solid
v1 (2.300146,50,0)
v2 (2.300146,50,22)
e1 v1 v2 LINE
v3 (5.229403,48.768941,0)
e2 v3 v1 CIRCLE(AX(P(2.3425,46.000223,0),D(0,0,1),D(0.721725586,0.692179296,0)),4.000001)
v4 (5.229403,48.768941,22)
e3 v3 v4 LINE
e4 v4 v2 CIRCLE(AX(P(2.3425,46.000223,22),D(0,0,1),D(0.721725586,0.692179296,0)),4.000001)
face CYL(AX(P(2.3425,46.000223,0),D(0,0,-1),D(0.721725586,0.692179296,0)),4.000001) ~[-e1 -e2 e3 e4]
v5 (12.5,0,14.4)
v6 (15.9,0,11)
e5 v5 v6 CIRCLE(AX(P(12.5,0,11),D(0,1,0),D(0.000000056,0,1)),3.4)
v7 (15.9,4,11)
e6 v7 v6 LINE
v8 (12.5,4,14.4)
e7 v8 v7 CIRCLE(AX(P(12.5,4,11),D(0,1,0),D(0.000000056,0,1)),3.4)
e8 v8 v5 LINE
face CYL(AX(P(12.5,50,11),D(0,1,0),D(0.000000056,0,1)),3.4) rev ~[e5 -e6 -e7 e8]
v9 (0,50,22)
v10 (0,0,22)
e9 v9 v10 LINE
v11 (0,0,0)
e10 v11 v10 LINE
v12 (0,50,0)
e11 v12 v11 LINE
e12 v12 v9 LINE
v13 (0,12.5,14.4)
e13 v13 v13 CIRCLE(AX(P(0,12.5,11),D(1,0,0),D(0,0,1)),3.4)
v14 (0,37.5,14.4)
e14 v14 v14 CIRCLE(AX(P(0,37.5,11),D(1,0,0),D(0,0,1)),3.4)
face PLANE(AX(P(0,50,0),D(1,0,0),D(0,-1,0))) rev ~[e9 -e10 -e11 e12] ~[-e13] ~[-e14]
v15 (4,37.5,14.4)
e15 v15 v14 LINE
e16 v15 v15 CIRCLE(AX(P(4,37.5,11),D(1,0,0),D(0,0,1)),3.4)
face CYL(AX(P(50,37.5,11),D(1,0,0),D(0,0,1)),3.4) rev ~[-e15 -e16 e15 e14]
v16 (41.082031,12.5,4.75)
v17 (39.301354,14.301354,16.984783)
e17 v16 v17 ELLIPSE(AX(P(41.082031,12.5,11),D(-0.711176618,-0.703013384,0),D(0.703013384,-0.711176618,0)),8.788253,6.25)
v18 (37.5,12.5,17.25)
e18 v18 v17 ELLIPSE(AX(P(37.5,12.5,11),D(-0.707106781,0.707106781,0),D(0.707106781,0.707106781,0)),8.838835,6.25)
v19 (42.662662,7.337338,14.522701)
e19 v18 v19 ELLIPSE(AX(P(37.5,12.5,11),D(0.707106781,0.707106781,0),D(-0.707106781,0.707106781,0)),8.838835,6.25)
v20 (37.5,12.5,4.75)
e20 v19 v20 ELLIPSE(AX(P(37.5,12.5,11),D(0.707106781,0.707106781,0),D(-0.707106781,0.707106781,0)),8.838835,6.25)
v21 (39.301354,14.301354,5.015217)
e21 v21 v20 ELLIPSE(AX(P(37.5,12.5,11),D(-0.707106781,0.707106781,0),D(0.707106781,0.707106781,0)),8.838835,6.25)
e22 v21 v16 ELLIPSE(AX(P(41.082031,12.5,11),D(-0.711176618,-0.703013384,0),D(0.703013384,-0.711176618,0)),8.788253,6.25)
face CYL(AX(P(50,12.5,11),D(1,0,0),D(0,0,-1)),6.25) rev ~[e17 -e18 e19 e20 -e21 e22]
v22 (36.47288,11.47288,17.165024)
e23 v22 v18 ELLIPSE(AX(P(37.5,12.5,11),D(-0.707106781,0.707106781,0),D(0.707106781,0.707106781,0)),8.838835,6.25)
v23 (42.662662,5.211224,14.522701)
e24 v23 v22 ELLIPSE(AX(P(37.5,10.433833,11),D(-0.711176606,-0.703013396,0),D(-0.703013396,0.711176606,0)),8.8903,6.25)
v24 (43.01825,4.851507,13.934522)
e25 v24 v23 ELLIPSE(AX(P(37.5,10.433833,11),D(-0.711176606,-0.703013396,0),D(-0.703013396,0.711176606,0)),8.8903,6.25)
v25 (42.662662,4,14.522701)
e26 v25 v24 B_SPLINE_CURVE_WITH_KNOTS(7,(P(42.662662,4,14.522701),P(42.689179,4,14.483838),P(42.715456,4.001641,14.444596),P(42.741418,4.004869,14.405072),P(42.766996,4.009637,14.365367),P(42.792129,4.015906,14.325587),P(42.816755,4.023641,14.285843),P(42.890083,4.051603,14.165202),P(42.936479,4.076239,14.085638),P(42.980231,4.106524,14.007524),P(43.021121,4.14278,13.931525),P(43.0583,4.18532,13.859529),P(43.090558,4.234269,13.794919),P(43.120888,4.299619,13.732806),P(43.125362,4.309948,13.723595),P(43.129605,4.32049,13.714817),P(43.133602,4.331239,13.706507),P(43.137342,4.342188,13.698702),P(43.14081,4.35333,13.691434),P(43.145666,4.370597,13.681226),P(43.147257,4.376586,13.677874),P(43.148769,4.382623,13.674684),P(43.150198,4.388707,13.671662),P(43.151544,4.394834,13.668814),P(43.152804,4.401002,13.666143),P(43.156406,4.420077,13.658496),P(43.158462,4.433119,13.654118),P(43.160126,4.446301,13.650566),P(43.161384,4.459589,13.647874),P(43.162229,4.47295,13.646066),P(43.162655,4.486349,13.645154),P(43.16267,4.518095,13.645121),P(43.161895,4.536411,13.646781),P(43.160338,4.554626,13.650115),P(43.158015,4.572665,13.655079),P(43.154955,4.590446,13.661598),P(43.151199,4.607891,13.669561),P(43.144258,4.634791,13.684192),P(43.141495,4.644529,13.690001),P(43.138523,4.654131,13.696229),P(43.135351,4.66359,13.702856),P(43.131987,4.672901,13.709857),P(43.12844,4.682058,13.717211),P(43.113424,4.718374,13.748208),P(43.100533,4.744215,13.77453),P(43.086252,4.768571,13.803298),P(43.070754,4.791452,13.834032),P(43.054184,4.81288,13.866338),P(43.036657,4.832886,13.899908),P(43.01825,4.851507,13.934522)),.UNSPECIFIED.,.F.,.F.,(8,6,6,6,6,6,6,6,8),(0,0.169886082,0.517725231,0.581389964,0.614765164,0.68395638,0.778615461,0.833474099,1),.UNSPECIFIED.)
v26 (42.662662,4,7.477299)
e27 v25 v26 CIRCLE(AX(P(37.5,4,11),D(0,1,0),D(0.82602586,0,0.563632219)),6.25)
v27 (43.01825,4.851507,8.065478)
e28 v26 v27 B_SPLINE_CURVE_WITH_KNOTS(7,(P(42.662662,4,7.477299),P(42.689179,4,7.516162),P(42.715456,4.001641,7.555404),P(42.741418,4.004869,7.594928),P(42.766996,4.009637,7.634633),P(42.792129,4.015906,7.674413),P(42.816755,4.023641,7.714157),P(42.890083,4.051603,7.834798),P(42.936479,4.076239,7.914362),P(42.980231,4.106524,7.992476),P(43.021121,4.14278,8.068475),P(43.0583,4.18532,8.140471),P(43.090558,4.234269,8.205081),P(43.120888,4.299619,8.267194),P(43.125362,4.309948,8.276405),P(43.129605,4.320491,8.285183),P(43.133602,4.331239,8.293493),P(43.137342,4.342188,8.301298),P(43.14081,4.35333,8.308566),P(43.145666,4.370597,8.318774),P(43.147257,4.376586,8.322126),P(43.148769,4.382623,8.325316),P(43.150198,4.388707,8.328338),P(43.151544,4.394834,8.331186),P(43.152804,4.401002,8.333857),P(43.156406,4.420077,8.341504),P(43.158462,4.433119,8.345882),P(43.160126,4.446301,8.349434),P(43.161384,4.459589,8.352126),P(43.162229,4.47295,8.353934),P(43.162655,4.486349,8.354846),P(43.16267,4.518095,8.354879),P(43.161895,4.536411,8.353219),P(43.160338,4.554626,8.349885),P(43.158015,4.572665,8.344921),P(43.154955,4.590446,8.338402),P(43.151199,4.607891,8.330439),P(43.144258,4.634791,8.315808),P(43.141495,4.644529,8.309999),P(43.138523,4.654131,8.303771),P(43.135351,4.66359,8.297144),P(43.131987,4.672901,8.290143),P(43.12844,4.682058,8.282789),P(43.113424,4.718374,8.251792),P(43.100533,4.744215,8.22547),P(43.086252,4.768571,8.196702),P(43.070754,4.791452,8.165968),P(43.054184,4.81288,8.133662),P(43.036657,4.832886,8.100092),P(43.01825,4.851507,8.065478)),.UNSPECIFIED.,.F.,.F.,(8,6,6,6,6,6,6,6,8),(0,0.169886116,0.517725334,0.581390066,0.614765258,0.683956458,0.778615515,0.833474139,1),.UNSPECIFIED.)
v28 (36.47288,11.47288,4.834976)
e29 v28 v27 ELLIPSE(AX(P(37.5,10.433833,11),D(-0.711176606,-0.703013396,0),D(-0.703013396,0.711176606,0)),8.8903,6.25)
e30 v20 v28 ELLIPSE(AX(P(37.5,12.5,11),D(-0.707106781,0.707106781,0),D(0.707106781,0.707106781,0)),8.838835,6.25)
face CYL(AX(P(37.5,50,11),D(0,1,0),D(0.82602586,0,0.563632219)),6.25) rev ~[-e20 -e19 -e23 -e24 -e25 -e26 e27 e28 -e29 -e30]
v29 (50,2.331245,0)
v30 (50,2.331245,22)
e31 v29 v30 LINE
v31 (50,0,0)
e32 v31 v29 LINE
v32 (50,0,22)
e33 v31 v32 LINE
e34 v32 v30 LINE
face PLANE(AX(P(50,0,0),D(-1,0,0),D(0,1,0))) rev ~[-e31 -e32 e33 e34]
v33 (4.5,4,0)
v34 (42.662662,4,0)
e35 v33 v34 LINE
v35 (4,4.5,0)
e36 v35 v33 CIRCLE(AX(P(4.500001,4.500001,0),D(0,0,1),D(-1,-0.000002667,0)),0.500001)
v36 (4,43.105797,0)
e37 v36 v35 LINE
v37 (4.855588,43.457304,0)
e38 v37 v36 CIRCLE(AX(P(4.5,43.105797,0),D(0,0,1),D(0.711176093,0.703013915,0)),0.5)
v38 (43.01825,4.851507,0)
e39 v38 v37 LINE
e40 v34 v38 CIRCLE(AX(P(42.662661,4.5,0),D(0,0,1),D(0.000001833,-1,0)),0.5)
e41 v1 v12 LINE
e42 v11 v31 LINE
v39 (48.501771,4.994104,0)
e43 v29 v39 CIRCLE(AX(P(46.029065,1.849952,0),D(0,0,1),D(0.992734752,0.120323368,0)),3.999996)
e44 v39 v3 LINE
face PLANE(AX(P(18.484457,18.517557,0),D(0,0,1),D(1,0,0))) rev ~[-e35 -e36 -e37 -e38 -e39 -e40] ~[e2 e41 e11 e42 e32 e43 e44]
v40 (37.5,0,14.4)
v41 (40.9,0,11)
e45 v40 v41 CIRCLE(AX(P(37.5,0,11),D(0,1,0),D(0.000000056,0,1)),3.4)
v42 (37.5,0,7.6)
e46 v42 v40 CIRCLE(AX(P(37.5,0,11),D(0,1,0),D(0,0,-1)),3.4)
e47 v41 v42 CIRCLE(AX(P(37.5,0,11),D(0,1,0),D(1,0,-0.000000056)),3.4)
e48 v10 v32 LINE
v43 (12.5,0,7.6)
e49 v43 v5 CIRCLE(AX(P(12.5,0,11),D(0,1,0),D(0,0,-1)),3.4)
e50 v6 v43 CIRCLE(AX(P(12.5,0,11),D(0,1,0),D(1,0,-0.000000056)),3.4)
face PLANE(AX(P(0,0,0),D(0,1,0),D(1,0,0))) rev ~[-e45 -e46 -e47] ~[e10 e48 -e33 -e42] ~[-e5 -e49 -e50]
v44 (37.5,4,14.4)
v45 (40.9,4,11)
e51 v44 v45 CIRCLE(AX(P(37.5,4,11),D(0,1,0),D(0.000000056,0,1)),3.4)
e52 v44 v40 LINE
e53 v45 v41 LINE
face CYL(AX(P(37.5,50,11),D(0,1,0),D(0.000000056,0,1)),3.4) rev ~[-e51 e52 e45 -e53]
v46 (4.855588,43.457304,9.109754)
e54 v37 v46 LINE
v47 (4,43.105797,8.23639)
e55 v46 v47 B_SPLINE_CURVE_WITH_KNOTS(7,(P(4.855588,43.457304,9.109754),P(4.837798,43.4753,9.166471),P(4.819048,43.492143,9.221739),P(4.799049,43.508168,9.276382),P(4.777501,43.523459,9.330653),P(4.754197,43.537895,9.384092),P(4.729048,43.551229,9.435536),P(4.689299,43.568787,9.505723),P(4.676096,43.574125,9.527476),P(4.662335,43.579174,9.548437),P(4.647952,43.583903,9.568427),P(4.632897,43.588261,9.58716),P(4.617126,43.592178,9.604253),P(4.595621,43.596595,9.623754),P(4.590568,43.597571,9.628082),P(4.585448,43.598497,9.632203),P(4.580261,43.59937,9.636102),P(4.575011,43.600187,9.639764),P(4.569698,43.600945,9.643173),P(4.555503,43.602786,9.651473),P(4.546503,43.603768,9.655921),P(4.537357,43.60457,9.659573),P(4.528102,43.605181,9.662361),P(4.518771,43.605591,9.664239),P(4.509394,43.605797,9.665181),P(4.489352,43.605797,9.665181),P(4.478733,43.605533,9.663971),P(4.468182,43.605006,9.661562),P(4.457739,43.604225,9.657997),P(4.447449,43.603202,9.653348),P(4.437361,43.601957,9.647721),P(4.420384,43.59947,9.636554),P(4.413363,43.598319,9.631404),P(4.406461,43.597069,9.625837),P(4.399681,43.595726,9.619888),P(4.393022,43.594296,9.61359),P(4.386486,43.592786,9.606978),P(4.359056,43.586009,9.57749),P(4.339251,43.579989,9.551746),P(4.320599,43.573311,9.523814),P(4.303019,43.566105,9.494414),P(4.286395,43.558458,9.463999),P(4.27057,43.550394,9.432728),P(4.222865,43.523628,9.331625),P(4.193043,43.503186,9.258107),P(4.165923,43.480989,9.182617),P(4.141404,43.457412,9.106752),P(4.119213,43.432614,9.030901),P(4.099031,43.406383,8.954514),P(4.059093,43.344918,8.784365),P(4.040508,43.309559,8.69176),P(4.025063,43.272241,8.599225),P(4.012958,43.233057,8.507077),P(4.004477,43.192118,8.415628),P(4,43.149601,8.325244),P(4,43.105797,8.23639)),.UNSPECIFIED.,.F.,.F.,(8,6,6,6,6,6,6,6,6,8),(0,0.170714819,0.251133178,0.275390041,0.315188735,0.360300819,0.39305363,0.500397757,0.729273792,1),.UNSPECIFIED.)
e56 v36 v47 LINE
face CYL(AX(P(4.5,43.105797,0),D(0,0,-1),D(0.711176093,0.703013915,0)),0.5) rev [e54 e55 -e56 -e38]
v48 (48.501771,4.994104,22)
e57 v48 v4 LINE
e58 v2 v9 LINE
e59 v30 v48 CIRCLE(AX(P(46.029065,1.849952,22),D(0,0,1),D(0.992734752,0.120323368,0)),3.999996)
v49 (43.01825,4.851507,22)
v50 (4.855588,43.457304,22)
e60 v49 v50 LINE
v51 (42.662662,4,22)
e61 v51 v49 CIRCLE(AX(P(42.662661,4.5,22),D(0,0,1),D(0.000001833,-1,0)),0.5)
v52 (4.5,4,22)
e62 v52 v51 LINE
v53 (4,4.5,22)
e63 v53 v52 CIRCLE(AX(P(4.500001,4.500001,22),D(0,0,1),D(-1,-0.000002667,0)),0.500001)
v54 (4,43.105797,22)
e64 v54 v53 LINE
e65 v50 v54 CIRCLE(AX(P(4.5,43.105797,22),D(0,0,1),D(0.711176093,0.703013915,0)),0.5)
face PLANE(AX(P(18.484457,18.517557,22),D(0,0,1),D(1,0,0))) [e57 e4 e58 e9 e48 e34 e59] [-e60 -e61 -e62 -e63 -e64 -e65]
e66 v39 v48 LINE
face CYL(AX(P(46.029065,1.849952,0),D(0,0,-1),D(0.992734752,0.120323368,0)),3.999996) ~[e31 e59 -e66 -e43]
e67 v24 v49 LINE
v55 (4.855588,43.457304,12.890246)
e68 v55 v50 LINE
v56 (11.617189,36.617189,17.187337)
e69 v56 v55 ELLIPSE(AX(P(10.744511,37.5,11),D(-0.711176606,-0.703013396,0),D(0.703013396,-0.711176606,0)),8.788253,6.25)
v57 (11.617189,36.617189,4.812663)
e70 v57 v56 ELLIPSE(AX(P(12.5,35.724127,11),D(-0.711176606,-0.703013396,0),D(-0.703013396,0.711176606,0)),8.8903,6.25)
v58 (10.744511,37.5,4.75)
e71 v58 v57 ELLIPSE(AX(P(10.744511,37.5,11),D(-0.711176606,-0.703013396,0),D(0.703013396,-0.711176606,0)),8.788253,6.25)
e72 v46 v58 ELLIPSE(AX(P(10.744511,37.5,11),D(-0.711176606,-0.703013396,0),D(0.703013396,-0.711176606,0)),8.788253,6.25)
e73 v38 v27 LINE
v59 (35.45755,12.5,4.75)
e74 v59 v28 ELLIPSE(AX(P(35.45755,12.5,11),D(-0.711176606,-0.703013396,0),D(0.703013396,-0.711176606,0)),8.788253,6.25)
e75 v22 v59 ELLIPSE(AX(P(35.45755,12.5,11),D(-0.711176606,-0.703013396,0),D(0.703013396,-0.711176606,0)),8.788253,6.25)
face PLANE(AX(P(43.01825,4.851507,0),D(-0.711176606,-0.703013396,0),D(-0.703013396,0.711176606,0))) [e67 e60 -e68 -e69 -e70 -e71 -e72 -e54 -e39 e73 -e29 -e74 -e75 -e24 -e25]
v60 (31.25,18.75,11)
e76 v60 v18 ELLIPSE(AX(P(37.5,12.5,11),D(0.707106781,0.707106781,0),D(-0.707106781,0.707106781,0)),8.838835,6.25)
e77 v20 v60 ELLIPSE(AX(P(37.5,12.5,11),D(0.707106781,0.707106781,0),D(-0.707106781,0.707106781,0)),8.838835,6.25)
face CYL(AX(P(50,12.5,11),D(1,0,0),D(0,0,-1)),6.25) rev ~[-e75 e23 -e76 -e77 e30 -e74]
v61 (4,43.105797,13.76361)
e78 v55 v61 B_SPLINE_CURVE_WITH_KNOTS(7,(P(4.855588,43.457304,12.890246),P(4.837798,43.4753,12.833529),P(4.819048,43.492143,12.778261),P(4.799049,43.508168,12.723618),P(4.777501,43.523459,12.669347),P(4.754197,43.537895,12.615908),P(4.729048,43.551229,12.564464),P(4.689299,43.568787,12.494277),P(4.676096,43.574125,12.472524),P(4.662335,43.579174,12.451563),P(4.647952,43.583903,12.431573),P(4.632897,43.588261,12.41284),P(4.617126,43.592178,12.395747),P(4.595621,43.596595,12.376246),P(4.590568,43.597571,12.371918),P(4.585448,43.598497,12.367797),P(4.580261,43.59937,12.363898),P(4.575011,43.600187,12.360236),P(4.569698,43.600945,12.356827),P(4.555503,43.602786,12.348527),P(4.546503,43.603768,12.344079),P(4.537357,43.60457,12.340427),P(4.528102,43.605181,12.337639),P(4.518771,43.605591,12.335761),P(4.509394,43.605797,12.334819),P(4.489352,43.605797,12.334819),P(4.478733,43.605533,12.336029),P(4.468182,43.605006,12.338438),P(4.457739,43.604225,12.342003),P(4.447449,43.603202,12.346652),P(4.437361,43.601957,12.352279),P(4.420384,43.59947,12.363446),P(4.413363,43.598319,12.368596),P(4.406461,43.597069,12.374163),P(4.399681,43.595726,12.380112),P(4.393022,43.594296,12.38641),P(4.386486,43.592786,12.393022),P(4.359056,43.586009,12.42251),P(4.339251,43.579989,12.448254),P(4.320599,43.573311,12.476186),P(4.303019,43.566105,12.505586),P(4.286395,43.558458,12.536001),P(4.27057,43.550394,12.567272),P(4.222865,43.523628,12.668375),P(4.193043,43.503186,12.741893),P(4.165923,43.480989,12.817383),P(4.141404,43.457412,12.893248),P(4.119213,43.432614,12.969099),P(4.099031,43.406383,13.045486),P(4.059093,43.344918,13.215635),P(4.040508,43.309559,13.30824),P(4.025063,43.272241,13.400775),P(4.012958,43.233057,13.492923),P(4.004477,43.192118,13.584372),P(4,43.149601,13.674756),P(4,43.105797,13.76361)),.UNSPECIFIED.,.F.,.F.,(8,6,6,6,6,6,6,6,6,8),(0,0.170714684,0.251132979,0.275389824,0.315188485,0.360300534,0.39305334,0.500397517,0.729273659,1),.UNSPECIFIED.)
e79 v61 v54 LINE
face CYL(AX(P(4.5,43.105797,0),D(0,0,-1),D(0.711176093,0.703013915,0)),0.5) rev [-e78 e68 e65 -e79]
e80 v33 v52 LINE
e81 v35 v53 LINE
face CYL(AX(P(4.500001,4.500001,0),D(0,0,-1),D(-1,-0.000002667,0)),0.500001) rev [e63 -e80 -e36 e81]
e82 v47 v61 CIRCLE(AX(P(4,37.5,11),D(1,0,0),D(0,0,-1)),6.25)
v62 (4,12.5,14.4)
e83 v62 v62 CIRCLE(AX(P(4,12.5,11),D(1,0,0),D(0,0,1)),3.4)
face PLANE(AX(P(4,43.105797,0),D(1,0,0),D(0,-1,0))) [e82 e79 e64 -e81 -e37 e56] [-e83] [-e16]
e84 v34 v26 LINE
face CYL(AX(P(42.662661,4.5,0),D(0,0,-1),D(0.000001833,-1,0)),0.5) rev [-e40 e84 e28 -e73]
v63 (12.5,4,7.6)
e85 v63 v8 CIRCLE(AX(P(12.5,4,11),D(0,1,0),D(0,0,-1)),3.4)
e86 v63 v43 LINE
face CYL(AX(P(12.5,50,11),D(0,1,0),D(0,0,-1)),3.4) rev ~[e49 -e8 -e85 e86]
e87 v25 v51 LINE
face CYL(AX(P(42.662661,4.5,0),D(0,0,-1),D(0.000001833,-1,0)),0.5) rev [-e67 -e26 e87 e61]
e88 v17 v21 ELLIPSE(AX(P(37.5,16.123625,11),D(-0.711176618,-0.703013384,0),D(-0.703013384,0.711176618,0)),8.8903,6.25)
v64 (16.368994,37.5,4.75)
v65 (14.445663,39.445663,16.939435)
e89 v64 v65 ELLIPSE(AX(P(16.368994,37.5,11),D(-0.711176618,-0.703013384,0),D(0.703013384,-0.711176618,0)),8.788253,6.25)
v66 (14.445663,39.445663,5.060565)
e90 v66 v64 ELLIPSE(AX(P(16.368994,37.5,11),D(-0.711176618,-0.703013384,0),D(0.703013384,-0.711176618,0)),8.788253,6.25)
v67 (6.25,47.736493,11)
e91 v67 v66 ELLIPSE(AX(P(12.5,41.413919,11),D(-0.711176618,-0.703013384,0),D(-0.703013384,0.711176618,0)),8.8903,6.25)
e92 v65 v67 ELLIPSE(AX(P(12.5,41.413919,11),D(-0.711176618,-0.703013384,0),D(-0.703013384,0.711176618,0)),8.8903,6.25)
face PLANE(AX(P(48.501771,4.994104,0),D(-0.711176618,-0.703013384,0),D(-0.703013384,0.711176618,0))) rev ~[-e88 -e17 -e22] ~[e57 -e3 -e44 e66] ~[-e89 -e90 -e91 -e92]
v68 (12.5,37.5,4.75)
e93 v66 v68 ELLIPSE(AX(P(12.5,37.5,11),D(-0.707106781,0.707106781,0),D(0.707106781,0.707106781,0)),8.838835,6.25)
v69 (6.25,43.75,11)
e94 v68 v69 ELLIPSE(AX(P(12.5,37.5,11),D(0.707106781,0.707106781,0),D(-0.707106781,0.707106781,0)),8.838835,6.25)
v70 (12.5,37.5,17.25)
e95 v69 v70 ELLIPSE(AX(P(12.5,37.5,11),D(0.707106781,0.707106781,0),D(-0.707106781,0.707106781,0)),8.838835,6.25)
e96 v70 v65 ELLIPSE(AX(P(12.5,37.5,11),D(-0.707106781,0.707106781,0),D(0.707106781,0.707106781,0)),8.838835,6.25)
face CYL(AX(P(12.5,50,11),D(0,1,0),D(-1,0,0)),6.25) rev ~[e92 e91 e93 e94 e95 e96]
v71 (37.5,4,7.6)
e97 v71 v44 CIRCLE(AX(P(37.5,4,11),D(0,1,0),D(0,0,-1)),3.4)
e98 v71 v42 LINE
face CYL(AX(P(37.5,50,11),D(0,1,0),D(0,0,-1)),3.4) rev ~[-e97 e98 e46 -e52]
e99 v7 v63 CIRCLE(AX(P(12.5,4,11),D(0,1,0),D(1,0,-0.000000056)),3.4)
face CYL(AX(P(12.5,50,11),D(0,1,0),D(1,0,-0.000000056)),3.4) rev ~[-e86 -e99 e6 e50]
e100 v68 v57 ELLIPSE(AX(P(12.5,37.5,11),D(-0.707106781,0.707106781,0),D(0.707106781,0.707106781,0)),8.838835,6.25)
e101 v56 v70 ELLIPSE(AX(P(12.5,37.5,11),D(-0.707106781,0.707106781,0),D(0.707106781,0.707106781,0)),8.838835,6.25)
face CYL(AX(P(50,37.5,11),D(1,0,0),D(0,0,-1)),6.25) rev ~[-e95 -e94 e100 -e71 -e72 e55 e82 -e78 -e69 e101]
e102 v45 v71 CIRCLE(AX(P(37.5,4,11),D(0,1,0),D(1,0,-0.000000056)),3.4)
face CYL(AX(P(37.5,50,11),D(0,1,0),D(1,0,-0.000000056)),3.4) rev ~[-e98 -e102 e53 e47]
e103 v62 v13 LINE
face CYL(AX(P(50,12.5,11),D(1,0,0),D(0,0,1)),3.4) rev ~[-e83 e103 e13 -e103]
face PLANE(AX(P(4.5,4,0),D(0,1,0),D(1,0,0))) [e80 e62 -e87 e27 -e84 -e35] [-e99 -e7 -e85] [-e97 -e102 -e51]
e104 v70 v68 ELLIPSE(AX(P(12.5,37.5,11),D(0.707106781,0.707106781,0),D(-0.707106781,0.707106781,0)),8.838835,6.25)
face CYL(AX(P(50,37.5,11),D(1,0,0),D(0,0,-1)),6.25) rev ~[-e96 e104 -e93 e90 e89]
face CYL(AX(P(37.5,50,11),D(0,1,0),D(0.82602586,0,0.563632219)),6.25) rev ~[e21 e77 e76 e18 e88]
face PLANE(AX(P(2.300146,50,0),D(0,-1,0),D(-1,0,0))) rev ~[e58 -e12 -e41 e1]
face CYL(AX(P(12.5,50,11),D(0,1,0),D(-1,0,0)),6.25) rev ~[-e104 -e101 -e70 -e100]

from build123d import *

# Parameters (mm, degrees)
EXTRUDE1_DEPTH     = 22
CUT_EXTRUDE1_DEPTH = 75.054034
CUT_EXTRUDE2_REACH = 76.054
SKETCH5_R          = 6.25
CUT_EXTRUDE3_DEPTH = 75.054186
CUT_EXTRUDE4_REACH = 76.054
SKETCH7_R          = 6.25


with BuildPart() as part:
    # Sketch1 → Extrude1 (new body)
    with BuildSketch(Plane.XY):
        with BuildLine():
            Line((0, 0), (50, 0))
            Line((50, 0), (50, 2.331245))
            ThreePointArc((50, 2.331245), (49.515156, 3.811364), (48.501771, 4.994104))
            Line((48.501771, 4.994104), (5.229403, 48.768941))
            ThreePointArc((5.229403, 48.768941), (3.892255, 49.687806), (2.300146, 50))
            Line((2.300146, 50), (0, 50))
            Line((0, 50), (0, 0))
        make_face()
        with BuildLine():
            Line((4, 43.105797), (4, 4.5))
            ThreePointArc((4, 4.5), (4.146447, 4.146447), (4.5, 4))
            Line((4.5, 4), (42.662662, 4))
            ThreePointArc((42.662662, 4), (43.124047, 4.307326), (43.01825, 4.851507))
            Line((43.01825, 4.851507), (4.855588, 43.457304))
            ThreePointArc((4.855588, 43.457304), (4.309992, 43.568287), (4, 43.105797))
        make_face(mode=Mode.SUBTRACT)
    extrude(amount=EXTRUDE1_DEPTH)

    # Sketch4 → Cut-Extrude1 (cut, through all)
    with BuildSketch(Plane(origin=(0, 50, 0), x_dir=(1, 0, 0), z_dir=(0, 1, 0))):
        with BuildLine():
            ThreePointArc((12.5, -7.6), (9.1, -11), (12.5, -14.4))
            Line((12.5, -14.4), (12.5, -7.6))
        make_face()
        with BuildLine():
            Line((12.5, -7.6), (12.5, -14.4))
            ThreePointArc((12.5, -14.4), (14.904163, -13.404163), (15.9, -11))
            ThreePointArc((15.9, -11), (14.904163, -8.595837), (12.5, -7.6))
        make_face()
        with BuildLine():
            ThreePointArc((37.5, -7.6), (34.1, -11), (37.5, -14.4))
            Line((37.5, -14.4), (37.5, -7.6))
        make_face()
        with BuildLine():
            Line((37.5, -7.6), (37.5, -14.4))
            ThreePointArc((37.5, -14.4), (39.904163, -13.404163), (40.9, -11))
            ThreePointArc((40.9, -11), (39.904163, -8.595837), (37.5, -7.6))
        make_face()
    extrude(amount=-CUT_EXTRUDE1_DEPTH, mode=Mode.SUBTRACT)

    # Cut-Extrude2: up to this face of the body (flat: up to its plane)
    cut_extrude2_end = Plane(part.part.faces().sort_by_distance((23.446976, 4, 11))[0])
    # Sketch5 → Cut-Extrude2 (cut, up to the picked face)
    with BuildSketch(Plane(origin=(0, 50, 0), x_dir=(1, 0, 0), z_dir=(0, 1, 0)), mode=Mode.PRIVATE) as cut_extrude2_sk1:
        with Locations(Location((12.5, -11, 0), (0, 0, 180))):
            Circle(SKETCH5_R)
    cut_extrude2_tool1 = split(extrude(cut_extrude2_sk1.sketch, amount=-CUT_EXTRUDE2_REACH, mode=Mode.PRIVATE), bisect_by=cut_extrude2_end, keep=Keep.BOTH, mode=Mode.PRIVATE)
    # Sketch5 → Cut-Extrude2 (cut, up to the picked face)
    with BuildSketch(Plane(origin=(0, 50, 0), x_dir=(1, 0, 0), z_dir=(0, 1, 0)), mode=Mode.PRIVATE) as cut_extrude2_sk2:
        with Locations(Location((37.5, -11, 0), (0, 0, 325.692636))):
            Circle(SKETCH5_R)
    cut_extrude2_tool2 = split(extrude(cut_extrude2_sk2.sketch, amount=-CUT_EXTRUDE2_REACH, mode=Mode.PRIVATE), bisect_by=cut_extrude2_end, keep=Keep.BOTH, mode=Mode.PRIVATE)
    add(cut_extrude2_tool1.solids().sort_by(Axis((12.5, 50, 11), (0, -1, 0)))[0], mode=Mode.SUBTRACT)
    add(cut_extrude2_tool2.solids().sort_by(Axis((37.5, 50, 11), (0, -1, 0)))[0], mode=Mode.SUBTRACT)

    # Sketch6 → Cut-Extrude3 (cut, through all)
    with BuildSketch(Plane(origin=(50, 0, 0), x_dir=(0, 0, -1), z_dir=(1, 0, 0))):
        with BuildLine():
            ThreePointArc((-7.6, 37.5), (-11, 40.9), (-14.4, 37.5))
            Line((-14.4, 37.5), (-7.6, 37.5))
        make_face()
        with BuildLine():
            Line((-7.6, 37.5), (-14.4, 37.5))
            ThreePointArc((-14.4, 37.5), (-11, 34.1), (-7.6, 37.5))
        make_face()
        with BuildLine():
            ThreePointArc((-7.6, 12.5), (-11, 15.9), (-14.4, 12.5))
            Line((-14.4, 12.5), (-7.6, 12.5))
        make_face()
        with BuildLine():
            Line((-7.6, 12.5), (-14.4, 12.5))
            ThreePointArc((-14.4, 12.5), (-11, 9.1), (-7.6, 12.5))
        make_face()
    extrude(amount=-CUT_EXTRUDE3_DEPTH, mode=Mode.SUBTRACT)

    # Cut-Extrude4: up to this face of the body (flat: up to its plane)
    cut_extrude4_end = Plane(part.part.faces().sort_by_distance((4, 23.69095, 11))[0])
    # Sketch7 → Cut-Extrude4 (cut, up to the picked face)
    with BuildSketch(Plane(origin=(50, 0, 0), x_dir=(0, 0, -1), z_dir=(1, 0, 0)), mode=Mode.PRIVATE) as cut_extrude4_sk1:
        with Locations((-11, 12.5)):
            Circle(SKETCH7_R)
    cut_extrude4_tool1 = split(extrude(cut_extrude4_sk1.sketch, amount=-CUT_EXTRUDE4_REACH, mode=Mode.PRIVATE), bisect_by=cut_extrude4_end, keep=Keep.BOTH, mode=Mode.PRIVATE)
    # Sketch7 → Cut-Extrude4 (cut, up to the picked face)
    with BuildSketch(Plane(origin=(50, 0, 0), x_dir=(0, 0, -1), z_dir=(1, 0, 0)), mode=Mode.PRIVATE) as cut_extrude4_sk2:
        with Locations((-11, 37.5)):
            Circle(SKETCH7_R)
    cut_extrude4_tool2 = split(extrude(cut_extrude4_sk2.sketch, amount=-CUT_EXTRUDE4_REACH, mode=Mode.PRIVATE), bisect_by=cut_extrude4_end, keep=Keep.BOTH, mode=Mode.PRIVATE)
    add(cut_extrude4_tool1.solids().sort_by(Axis((50, 12.5, 11), (-1, 0, 0)))[0], mode=Mode.SUBTRACT)
    add(cut_extrude4_tool2.solids().sort_by(Axis((50, 37.5, 11), (-1, 0, 0)))[0], mode=Mode.SUBTRACT)


solid = part.part
